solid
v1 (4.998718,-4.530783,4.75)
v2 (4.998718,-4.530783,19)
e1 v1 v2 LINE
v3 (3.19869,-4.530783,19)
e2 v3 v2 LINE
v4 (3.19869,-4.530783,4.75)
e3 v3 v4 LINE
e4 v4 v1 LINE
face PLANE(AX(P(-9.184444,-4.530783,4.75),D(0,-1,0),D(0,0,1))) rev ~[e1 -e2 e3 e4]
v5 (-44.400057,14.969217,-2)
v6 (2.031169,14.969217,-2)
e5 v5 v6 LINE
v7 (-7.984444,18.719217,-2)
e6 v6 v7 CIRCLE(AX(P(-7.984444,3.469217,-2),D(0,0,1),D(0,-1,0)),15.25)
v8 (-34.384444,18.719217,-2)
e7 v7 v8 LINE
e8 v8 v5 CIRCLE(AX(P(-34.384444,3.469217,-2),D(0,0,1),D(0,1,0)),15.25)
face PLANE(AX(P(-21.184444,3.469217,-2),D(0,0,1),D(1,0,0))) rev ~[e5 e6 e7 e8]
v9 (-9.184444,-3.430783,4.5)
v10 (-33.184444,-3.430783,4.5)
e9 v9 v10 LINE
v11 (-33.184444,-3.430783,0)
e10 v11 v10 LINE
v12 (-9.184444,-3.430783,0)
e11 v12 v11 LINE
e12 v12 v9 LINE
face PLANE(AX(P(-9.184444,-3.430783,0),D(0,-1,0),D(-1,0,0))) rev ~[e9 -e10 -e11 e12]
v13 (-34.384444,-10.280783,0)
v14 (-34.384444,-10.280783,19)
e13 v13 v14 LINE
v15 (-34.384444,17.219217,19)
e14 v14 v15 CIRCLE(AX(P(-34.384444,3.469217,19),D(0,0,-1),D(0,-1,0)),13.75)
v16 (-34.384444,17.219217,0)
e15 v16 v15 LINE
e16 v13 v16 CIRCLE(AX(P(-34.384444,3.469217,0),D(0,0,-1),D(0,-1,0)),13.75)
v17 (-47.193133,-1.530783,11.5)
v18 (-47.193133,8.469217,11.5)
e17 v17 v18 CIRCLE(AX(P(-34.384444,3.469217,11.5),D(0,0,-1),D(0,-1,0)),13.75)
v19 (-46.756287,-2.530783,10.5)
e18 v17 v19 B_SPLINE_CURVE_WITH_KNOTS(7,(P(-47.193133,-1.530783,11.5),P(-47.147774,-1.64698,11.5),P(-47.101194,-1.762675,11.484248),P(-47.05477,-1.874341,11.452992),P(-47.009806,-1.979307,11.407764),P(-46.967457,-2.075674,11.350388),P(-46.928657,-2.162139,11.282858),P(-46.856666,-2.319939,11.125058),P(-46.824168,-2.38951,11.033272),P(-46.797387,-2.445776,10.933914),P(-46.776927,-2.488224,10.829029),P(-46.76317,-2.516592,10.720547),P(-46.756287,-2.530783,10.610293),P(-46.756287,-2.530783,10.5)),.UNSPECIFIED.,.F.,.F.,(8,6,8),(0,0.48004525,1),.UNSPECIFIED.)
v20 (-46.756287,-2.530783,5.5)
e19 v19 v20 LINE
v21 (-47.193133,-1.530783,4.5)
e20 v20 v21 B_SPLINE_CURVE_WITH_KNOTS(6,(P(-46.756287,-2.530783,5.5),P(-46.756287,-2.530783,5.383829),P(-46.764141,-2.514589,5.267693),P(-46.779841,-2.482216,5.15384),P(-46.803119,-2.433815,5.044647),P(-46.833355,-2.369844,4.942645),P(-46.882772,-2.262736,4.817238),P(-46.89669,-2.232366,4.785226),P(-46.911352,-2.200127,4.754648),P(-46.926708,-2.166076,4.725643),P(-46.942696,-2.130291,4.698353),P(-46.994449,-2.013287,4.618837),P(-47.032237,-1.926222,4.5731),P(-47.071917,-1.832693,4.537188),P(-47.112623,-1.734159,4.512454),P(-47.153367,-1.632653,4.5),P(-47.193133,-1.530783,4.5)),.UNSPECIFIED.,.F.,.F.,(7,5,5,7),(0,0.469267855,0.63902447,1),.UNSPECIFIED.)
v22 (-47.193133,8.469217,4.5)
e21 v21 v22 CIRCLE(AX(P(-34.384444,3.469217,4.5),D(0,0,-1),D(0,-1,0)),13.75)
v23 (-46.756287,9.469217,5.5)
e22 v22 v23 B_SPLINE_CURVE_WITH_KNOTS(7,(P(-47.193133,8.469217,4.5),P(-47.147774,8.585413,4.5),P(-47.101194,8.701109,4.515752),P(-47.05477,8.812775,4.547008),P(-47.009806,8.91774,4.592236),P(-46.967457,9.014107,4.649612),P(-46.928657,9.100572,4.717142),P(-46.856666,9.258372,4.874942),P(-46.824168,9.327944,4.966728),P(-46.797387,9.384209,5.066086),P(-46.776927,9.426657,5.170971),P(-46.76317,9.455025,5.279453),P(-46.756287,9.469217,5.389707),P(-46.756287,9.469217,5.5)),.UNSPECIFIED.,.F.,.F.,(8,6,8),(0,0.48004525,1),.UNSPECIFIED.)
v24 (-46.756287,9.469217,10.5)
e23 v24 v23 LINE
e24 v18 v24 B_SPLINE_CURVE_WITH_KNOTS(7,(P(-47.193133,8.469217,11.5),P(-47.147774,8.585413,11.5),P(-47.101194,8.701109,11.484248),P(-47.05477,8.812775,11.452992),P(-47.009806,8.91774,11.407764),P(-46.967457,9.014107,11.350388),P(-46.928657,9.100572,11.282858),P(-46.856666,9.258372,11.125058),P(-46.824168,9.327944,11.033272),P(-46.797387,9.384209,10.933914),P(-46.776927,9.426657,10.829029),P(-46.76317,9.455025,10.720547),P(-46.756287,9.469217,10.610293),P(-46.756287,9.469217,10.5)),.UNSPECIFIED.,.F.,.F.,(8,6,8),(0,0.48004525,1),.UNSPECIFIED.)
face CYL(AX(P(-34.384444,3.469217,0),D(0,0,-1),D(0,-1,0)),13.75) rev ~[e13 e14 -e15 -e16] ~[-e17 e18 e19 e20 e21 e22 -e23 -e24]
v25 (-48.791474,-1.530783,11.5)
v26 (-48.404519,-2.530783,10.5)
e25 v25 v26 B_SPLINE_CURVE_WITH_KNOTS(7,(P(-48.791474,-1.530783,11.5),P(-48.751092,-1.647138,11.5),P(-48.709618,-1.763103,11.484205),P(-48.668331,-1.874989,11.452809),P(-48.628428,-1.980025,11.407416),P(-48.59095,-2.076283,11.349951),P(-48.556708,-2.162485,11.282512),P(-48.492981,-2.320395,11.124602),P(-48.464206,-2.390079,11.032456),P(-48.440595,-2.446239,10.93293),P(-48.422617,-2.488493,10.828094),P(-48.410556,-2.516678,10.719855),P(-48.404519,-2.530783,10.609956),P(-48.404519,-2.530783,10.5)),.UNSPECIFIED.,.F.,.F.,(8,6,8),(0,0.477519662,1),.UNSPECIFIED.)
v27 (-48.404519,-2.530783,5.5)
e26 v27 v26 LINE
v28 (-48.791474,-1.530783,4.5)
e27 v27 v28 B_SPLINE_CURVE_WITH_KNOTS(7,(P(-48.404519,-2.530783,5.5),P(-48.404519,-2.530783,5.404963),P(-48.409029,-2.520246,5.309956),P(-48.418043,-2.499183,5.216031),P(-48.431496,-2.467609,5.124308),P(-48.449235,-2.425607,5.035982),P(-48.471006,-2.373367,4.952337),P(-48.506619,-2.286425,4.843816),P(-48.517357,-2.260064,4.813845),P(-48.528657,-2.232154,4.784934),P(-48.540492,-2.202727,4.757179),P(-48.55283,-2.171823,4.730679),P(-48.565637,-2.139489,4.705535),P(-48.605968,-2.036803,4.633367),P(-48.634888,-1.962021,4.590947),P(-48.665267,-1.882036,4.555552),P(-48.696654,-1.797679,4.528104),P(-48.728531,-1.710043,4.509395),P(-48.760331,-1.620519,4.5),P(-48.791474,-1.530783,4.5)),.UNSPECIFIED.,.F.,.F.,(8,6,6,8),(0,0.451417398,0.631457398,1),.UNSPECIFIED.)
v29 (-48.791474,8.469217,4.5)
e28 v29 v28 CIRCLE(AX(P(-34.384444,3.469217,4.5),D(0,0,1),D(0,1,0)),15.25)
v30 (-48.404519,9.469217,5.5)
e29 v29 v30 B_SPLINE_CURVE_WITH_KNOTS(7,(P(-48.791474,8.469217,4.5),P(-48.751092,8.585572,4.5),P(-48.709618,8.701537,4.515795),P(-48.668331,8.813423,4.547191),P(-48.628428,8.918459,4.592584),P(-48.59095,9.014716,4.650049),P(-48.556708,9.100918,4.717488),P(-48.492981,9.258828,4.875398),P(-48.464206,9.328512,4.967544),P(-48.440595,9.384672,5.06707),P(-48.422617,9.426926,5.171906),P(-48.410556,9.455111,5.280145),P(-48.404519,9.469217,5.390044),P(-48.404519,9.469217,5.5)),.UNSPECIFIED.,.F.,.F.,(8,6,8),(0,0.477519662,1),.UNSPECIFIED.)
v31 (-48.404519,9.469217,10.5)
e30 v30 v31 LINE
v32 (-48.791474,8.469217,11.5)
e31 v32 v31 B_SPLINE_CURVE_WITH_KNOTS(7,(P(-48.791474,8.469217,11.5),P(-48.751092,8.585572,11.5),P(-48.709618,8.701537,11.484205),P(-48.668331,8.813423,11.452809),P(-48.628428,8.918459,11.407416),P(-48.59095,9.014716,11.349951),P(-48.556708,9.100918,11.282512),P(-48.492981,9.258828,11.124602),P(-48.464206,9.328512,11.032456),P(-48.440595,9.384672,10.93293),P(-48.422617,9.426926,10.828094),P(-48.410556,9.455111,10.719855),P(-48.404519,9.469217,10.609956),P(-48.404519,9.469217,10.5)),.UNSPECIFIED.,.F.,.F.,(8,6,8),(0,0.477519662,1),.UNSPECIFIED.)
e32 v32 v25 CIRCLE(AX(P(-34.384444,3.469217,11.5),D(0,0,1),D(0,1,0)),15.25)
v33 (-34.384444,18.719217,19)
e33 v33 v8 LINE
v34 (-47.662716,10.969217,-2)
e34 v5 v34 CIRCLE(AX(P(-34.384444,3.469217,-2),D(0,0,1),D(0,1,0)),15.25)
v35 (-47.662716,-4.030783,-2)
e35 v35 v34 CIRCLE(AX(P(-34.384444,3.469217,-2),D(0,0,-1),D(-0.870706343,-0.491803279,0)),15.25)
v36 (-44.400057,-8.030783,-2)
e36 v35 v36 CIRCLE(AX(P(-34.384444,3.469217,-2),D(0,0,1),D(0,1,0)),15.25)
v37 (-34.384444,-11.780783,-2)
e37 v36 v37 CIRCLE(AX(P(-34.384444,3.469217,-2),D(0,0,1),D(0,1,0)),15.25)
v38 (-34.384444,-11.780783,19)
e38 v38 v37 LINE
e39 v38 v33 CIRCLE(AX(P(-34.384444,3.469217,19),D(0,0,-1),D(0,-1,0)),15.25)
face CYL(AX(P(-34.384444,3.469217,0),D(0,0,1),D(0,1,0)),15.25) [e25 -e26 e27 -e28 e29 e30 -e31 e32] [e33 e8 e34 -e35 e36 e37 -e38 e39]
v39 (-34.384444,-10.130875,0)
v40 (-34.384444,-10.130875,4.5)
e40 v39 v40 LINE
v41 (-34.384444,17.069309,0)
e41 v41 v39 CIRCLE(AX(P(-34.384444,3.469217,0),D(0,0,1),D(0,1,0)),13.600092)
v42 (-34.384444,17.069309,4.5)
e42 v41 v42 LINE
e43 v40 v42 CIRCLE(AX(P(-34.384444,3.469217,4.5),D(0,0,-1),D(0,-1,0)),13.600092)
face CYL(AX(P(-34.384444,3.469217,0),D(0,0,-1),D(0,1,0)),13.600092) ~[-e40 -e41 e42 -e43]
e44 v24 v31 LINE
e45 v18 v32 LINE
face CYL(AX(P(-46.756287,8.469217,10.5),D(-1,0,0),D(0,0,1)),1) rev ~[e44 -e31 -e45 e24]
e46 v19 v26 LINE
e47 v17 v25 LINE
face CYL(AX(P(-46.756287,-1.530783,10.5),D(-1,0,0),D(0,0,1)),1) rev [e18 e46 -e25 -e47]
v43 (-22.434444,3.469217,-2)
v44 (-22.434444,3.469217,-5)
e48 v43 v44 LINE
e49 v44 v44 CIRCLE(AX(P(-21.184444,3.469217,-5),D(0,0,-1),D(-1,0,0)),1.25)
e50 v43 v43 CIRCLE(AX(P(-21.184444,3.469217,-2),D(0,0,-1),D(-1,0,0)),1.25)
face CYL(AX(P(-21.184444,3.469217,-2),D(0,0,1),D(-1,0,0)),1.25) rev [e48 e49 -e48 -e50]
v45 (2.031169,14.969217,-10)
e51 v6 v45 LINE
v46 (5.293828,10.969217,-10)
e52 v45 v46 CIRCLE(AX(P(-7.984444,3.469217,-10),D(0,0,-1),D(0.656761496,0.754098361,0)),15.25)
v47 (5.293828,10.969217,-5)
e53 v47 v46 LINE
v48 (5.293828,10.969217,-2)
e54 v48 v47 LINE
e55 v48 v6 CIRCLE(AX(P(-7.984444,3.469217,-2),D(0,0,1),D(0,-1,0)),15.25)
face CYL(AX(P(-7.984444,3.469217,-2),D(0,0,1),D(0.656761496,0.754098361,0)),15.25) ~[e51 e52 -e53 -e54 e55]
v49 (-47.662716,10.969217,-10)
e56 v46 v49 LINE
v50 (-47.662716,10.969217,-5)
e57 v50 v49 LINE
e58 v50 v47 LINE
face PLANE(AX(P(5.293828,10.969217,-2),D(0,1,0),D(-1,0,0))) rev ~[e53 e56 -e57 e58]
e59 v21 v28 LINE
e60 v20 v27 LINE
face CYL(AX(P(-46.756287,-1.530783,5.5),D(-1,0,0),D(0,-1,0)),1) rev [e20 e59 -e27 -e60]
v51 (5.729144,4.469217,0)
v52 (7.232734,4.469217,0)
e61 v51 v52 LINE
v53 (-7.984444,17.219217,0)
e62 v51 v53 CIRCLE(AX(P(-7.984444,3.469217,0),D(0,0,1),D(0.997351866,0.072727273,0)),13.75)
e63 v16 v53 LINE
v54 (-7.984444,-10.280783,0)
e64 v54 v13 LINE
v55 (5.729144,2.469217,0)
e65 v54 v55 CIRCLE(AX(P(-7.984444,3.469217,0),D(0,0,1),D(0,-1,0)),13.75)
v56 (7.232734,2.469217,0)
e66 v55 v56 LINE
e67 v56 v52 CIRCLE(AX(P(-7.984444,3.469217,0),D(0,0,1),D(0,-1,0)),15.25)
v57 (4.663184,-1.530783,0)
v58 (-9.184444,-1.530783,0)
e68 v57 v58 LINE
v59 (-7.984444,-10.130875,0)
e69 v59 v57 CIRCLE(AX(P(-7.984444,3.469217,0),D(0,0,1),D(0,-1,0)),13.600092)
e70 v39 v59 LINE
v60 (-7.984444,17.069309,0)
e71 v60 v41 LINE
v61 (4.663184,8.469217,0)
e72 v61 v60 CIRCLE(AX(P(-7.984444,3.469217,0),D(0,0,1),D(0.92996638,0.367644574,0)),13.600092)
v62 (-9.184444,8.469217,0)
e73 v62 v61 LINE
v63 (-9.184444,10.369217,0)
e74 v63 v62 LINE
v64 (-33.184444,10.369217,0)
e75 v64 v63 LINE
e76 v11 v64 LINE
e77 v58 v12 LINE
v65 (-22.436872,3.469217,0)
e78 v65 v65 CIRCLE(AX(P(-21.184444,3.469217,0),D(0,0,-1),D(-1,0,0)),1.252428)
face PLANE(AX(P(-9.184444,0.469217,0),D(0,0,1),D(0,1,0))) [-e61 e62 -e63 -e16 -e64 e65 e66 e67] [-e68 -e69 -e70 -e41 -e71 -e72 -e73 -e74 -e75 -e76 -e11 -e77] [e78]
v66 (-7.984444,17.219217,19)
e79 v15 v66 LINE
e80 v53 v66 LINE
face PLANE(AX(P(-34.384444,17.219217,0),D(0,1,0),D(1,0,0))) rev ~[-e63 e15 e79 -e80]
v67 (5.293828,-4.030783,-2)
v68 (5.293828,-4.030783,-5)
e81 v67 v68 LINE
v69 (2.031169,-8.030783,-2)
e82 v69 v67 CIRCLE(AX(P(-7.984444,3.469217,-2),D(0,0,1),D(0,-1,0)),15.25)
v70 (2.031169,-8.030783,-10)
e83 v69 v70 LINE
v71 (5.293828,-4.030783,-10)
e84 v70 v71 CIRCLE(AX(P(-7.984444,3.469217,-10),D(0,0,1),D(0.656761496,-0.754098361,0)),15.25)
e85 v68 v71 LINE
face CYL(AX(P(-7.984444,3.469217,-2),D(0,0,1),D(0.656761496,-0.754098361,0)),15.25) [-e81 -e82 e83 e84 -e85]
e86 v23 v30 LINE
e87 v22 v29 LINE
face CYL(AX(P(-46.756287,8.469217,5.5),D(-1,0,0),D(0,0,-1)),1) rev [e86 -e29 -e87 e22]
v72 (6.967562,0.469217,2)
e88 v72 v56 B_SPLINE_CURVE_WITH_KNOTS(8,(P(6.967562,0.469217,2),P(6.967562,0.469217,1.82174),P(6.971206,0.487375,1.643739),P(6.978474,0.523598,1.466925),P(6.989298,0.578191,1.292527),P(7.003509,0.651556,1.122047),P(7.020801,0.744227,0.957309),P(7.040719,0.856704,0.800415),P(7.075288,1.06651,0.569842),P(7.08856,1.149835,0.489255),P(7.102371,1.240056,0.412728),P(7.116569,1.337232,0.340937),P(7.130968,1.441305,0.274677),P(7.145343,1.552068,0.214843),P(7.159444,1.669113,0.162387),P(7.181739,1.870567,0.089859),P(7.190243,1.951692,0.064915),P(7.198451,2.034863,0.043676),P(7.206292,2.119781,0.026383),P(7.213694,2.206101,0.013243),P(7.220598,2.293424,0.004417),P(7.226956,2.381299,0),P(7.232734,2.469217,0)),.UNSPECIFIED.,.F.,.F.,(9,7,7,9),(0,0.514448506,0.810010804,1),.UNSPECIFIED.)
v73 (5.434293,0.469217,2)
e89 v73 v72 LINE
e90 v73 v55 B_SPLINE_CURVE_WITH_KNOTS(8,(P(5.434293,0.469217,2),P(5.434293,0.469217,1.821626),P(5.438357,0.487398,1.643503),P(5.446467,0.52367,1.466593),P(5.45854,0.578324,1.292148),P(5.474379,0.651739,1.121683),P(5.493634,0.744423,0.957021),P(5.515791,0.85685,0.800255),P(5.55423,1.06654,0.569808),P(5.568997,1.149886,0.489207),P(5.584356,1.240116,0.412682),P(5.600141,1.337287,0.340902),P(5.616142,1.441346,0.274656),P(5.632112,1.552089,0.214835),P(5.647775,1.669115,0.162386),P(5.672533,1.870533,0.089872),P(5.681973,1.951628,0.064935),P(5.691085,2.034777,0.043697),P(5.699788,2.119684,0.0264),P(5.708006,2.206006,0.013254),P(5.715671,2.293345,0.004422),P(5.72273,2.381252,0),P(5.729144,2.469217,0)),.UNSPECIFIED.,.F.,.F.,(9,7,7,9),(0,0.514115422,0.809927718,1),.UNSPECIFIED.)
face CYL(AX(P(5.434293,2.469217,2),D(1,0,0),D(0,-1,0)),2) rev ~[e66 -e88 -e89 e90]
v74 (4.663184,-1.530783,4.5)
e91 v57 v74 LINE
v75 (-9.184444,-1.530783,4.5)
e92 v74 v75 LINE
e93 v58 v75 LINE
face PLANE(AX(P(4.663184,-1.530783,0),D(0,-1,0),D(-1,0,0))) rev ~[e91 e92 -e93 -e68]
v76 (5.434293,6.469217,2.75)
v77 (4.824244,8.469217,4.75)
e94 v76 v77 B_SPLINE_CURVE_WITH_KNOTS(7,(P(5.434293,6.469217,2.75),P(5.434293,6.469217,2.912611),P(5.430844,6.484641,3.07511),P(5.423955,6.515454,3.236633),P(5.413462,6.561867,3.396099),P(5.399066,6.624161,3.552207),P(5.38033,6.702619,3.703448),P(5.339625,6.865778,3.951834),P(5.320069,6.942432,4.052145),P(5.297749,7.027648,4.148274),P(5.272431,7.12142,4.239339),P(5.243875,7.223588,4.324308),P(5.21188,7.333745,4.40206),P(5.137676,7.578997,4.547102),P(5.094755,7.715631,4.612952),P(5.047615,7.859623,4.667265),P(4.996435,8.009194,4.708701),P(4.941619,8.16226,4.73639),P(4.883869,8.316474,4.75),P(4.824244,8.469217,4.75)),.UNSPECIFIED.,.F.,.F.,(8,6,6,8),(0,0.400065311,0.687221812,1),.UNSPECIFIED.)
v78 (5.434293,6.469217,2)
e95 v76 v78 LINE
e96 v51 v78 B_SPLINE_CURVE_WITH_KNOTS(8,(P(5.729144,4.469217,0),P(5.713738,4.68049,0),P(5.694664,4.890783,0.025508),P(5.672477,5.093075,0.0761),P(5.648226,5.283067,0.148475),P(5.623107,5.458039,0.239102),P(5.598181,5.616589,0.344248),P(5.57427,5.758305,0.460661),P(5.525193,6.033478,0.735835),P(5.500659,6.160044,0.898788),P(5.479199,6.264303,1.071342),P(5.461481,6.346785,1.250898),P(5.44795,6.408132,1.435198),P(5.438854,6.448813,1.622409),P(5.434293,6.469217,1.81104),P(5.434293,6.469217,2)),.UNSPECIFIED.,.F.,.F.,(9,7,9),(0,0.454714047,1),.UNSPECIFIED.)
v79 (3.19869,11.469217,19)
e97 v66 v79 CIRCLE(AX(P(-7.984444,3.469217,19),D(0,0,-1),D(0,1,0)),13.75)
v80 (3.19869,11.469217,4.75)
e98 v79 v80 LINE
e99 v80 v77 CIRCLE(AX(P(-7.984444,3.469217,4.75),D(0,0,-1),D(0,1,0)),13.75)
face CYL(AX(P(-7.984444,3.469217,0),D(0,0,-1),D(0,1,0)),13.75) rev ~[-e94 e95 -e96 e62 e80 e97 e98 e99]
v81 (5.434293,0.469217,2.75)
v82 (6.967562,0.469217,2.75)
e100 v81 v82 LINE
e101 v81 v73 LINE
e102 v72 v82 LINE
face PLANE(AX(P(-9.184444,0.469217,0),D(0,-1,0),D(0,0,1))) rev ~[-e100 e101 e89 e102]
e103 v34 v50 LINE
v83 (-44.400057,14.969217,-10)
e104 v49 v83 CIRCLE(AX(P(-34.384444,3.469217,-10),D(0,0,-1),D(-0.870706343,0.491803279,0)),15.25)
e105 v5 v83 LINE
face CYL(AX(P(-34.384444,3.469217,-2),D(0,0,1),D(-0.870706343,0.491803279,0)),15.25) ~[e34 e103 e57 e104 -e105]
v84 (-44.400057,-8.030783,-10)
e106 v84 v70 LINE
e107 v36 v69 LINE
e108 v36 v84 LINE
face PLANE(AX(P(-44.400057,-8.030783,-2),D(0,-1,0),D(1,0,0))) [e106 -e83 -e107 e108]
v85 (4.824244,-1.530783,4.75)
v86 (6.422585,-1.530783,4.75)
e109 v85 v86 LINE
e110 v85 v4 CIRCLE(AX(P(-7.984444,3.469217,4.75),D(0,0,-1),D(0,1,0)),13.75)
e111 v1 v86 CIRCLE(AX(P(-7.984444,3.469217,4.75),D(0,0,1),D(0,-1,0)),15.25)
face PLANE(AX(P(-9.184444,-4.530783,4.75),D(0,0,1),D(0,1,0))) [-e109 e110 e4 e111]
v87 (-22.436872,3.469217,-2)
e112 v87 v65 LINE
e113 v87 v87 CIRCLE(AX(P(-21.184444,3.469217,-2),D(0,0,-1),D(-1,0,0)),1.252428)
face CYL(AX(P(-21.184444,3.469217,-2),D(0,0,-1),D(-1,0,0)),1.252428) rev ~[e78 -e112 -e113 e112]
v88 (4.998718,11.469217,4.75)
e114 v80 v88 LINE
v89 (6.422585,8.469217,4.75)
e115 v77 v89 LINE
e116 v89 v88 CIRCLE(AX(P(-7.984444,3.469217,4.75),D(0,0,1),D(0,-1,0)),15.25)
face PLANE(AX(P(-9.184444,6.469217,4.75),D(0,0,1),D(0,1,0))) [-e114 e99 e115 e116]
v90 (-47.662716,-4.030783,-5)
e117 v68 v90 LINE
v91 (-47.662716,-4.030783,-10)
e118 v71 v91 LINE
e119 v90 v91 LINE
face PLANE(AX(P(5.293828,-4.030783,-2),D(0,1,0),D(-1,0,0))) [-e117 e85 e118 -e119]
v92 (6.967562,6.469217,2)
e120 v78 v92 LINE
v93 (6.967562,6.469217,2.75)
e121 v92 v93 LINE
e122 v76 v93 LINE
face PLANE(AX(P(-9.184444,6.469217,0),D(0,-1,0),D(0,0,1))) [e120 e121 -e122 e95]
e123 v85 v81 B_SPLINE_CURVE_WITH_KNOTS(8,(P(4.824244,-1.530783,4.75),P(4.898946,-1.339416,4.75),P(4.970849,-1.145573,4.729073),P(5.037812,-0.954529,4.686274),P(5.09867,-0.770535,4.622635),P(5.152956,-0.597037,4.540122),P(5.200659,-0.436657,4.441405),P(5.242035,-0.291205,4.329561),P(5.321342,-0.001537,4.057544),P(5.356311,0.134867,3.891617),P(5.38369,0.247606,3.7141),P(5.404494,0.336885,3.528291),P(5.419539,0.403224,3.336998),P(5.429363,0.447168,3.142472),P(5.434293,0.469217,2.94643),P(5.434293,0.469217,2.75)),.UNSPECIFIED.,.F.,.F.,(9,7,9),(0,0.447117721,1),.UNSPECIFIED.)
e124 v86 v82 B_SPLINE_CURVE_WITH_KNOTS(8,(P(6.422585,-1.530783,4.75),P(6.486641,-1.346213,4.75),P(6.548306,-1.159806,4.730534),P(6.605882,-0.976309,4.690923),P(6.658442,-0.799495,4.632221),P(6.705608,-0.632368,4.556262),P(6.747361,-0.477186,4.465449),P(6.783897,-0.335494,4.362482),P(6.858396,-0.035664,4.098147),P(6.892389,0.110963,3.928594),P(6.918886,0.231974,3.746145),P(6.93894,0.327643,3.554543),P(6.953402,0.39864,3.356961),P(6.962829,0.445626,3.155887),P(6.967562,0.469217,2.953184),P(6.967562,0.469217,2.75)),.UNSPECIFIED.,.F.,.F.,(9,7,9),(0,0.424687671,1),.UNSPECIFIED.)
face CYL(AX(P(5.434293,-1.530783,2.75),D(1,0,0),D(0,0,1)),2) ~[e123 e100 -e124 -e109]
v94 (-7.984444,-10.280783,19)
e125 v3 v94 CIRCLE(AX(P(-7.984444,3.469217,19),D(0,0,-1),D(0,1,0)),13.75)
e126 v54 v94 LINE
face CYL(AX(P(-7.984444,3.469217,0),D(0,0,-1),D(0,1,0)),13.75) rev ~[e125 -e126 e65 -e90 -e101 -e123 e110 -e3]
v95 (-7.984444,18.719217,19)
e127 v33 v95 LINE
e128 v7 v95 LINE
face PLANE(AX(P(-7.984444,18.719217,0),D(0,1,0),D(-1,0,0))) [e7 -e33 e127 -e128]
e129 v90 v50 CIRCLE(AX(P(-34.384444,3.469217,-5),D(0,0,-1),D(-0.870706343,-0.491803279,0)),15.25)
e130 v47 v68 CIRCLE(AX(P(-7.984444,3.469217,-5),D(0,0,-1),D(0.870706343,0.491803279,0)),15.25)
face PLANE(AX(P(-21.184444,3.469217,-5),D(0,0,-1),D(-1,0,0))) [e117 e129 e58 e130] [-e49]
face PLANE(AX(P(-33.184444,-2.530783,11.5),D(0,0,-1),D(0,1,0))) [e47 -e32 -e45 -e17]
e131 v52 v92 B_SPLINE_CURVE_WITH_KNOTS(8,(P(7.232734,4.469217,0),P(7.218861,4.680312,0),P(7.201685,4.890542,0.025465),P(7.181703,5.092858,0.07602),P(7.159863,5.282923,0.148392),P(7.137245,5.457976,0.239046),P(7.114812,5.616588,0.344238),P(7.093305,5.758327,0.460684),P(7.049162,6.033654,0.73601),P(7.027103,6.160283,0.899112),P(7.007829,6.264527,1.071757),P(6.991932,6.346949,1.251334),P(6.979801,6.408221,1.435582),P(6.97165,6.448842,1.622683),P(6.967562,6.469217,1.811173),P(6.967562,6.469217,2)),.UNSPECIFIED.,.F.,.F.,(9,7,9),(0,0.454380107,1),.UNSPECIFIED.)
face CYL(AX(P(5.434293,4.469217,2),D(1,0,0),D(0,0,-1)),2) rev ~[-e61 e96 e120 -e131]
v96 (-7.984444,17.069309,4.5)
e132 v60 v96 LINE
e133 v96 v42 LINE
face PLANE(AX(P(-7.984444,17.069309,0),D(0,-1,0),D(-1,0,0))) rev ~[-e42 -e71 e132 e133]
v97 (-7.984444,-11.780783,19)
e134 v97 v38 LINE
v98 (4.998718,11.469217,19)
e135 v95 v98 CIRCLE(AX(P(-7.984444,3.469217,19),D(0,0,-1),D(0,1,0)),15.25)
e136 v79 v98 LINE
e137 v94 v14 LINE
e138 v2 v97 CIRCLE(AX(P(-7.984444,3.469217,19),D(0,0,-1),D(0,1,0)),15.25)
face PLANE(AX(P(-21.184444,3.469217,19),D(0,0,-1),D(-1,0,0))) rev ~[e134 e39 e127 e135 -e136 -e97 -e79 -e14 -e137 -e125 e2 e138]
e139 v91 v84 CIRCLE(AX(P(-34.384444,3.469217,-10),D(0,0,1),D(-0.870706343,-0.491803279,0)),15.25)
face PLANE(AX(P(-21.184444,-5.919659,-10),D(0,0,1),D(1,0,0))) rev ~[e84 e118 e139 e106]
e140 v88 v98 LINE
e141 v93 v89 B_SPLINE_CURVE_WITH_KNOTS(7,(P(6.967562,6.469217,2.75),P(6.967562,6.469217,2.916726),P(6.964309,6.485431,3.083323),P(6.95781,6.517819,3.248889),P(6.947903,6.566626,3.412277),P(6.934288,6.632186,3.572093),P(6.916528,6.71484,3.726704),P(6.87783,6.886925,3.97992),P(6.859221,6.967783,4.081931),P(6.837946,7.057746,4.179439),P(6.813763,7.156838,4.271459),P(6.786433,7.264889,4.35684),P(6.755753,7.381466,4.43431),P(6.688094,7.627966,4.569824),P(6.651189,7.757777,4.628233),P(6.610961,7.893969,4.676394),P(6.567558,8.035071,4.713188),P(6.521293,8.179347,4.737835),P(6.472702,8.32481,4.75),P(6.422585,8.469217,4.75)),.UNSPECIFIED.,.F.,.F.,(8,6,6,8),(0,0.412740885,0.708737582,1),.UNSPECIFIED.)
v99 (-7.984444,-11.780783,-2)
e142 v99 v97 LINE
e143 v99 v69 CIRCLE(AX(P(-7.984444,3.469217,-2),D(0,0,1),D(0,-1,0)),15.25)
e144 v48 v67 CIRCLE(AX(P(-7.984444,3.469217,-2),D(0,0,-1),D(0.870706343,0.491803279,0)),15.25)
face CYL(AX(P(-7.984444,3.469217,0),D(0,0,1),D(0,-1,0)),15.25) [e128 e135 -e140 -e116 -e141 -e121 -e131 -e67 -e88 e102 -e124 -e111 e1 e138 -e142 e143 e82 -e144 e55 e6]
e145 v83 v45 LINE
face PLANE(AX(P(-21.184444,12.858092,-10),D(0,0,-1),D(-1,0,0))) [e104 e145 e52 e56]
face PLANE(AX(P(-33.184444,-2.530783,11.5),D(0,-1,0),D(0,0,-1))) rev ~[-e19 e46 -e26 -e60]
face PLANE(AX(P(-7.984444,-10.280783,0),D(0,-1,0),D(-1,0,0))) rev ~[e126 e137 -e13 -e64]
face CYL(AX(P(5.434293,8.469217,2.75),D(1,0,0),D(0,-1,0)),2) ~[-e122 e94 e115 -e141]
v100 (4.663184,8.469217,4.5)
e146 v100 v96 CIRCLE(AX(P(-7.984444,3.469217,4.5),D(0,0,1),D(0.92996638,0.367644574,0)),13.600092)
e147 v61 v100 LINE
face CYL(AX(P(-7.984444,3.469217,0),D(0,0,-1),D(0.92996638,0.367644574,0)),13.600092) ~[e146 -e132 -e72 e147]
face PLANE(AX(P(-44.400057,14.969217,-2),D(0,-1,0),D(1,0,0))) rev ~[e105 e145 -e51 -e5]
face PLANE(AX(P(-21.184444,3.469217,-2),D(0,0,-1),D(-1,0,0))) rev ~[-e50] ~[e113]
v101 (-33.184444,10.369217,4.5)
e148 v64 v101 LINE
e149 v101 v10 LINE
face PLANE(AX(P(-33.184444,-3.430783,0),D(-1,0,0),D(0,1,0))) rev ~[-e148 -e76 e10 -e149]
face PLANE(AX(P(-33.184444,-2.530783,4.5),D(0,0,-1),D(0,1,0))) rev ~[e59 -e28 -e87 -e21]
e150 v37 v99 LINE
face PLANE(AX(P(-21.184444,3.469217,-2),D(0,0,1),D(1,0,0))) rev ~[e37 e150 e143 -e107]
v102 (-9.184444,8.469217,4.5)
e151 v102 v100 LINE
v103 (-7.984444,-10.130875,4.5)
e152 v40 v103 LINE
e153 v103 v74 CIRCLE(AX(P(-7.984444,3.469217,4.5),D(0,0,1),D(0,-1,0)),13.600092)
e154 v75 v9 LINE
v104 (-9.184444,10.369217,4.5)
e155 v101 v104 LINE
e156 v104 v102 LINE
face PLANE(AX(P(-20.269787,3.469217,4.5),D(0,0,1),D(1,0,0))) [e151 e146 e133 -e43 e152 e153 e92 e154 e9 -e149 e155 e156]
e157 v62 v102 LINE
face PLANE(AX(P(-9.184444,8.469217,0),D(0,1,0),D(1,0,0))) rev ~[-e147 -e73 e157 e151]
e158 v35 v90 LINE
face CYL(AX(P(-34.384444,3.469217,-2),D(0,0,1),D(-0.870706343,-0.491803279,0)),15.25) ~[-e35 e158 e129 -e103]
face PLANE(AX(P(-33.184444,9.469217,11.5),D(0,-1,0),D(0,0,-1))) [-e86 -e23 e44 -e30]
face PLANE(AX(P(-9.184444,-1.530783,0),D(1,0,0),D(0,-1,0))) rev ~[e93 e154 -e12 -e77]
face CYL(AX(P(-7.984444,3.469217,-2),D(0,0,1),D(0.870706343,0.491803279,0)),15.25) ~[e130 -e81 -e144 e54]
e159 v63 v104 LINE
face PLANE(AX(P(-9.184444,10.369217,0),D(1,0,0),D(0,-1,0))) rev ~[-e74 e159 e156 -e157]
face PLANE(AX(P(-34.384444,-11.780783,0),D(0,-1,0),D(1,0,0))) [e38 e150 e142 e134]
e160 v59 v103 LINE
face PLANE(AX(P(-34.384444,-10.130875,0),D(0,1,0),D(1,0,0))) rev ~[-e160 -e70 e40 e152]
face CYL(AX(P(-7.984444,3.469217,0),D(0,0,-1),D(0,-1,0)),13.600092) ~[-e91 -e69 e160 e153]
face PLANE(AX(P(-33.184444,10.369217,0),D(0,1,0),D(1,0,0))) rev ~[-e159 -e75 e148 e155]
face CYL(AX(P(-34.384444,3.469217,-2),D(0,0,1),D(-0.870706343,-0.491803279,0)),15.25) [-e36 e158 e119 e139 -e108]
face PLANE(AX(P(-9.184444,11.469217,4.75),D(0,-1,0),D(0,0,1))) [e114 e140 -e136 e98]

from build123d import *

# Parameters (mm, degrees)
BOSS_EXTRUDE1_DEPTH = 19
BOSS_EXTRUDE2_DEPTH = 2
BOSS_EXTRUDE3_DEPTH = 4.5
SKETCH4_W           = 4.75
SKETCH4_H           = 6
SKETCH4_W_2         = 14.25
SKETCH4_H_2         = 16
CUT_EXTRUDE1_DEPTH  = 49.452157546
SKETCH5_W           = 7
SKETCH5_H           = 12
CUT_EXTRUDE2_DEPTH  = 49.452157546
FILLET1_R           = 1
SKETCH6_R           = 1.25
BOSS_EXTRUDE4_DEPTH = 3
BOSS_EXTRUDE7_DEPTH = 8
FILLET2_R           = 2
SKETCH9_R           = 1.252428217
CUT_EXTRUDE3_DEPTH  = 10


with BuildPart() as part:
    # Sketch1 → Boss-Extrude1 (new body)
    with BuildSketch(Plane.XY):
        with BuildLine():
            Line((-34.384444189, 18.719216619), (-7.984444189, 18.719216619))
            ThreePointArc((-7.984444189, 18.719216619), (7.265555811, 3.469216619), (-7.984444189, -11.780783381))
            Line((-7.984444189, -11.780783381), (-34.384444189, -11.780783381))
            ThreePointArc((-34.384444189, -11.780783381), (-49.634444189, 3.469216619), (-34.384444189, 18.719216619))
        make_face()
        with BuildLine():
            Line((-34.384444189, 17.219216619), (-7.984444189, 17.219216619))
            ThreePointArc((-7.984444189, 17.219216619), (5.765555811, 3.469216619), (-7.984444189, -10.280783381))
            Line((-7.984444189, -10.280783381), (-34.384444189, -10.280783381))
            ThreePointArc((-34.384444189, -10.280783381), (-48.134444189, 3.469216619), (-34.384444189, 17.219216619))
        make_face(mode=Mode.SUBTRACT)
    extrude(amount=BOSS_EXTRUDE1_DEPTH)



with BuildPart() as body_2:
    # Sketch2 → Boss-Extrude2 (new body)
    with BuildSketch(Plane(origin=(0, 0, 0), x_dir=(-1, 0, 0), z_dir=(0, 0, -1))):
        with BuildLine():
            Line((34.384444189, -11.780783381), (7.984444189, -11.780783381))
            ThreePointArc((7.984444189, -11.780783381), (-7.265555811, 3.469216619), (7.984444189, 18.719216619))
            Line((7.984444189, 18.719216619), (34.384444189, 18.719216619))
            ThreePointArc((34.384444189, 18.719216619), (49.634444189, 3.469216619), (34.384444189, -11.780783381))
        make_face()
    extrude(amount=BOSS_EXTRUDE2_DEPTH)


with BuildPart() as part_1:
    add(part.part)

    add(body_2.part)  # Boss-Extrude3 merges body 2
    # Sketch3 → Boss-Extrude3 (add)
    with BuildSketch(Plane.XY):
        with BuildLine():
            Line((-22.664695889, -3.430783381), (-33.184444189, -3.430783381))
            Line((-33.184444189, -3.430783381), (-33.184444189, 10.369216619))
            Line((-33.184444189, 10.369216619), (-19.704192488, 10.369216619))
            Line((-19.704192488, 10.369216619), (-9.184444189, 10.369216619))
            Line((-9.184444189, 10.369216619), (-9.184444189, 8.469216619))
            Line((-9.184444189, 8.469216619), (4.663184056, 8.469216619))
            ThreePointArc((4.663184056, 8.469216619), (-0.337155761, 14.715615149), (-7.984444189, 17.069308538))
            Line((-7.984444189, 17.069308538), (-34.384444189, 17.069308538))
            ThreePointArc((-34.384444189, 17.069308538), (-47.984536108, 3.469216619), (-34.384444189, -10.1308753))
            Line((-34.384444189, -10.1308753), (-7.984444189, -10.1308753))
            ThreePointArc((-7.984444189, -10.1308753), (-0.337155761, -7.777181911), (4.663184056, -1.530783381))
            Line((4.663184056, -1.530783381), (-9.184444189, -1.530783381))
            Line((-9.184444189, -1.530783381), (-9.184444189, -3.430783381))
            Line((-9.184444189, -3.430783381), (-19.704192488, -3.430783381))
            Line((-19.704192488, -3.430783381), (-22.664695889, -3.430783381))
        make_face()
    extrude(amount=BOSS_EXTRUDE3_DEPTH)

    # Sketch4 → Cut-Extrude1 (cut, through all)
    with BuildSketch(Plane.ZY.offset(9.184444189)):
        with Locations((2.375, 3.469216619)):
            Rectangle(SKETCH4_W, SKETCH4_H)
        with Locations((11.875, 3.469216619)):
            Rectangle(SKETCH4_W_2, SKETCH4_H_2)
    extrude(amount=-CUT_EXTRUDE1_DEPTH, mode=Mode.SUBTRACT)

    # Sketch5 → Cut-Extrude2 (cut, through all)
    with BuildSketch(Plane(origin=(-33.184444189, 0, 0), x_dir=(0, 0, -1), z_dir=(1, 0, 0))):
        with Locations((-8, 3.469216619)):
            Rectangle(SKETCH5_W, SKETCH5_H)
    extrude(amount=-CUT_EXTRUDE2_DEPTH, mode=Mode.SUBTRACT)

    # Fillet1
    fillet1_edges = [part_1.edges().sort_by_distance(p)[0] for p in [
        (-47.580403151, -2.530783381, 11.5),
        (-47.580403151, 9.469216619, 11.5),
        (-47.580403151, 9.469216619, 4.5),
        (-47.580403151, -2.530783381, 4.5),
    ]]
    fillet(fillet1_edges, radius=FILLET1_R)

    # Sketch6 → Boss-Extrude4 (add)
    with BuildSketch(Plane(origin=(0, 0, -2), x_dir=(-1, 0, 0), z_dir=(0, 0, -1))):
        with BuildLine():
            ThreePointArc((47.662715914, -4.030783381), (49.634444189, 3.469216619), (47.662715914, 10.969216619))
            Line((47.662715914, 10.969216619), (-5.293827536, 10.969216619))
            ThreePointArc((-5.293827536, 10.969216619), (-7.265555811, 3.469216619), (-5.293827536, -4.030783381))
            Line((-5.293827536, -4.030783381), (47.662715914, -4.030783381))
        make_face()
        with Locations((21.184444189, 3.469216619)):
            Circle(SKETCH6_R, mode=Mode.SUBTRACT)
    extrude(amount=BOSS_EXTRUDE4_DEPTH)

    # Sketch10 → Boss-Extrude7 (add)
    with BuildSketch(Plane(origin=(0, 0, -2), x_dir=(-1, 0, 0), z_dir=(0, 0, -1))):
        with BuildLine():
            Line((-5.293827536, -4.030783381), (47.662715914, -4.030783381))
            ThreePointArc((47.662715914, -4.030783381), (46.201857789, -6.169830834), (44.400057001, -8.030783381))
            Line((44.400057001, -8.030783381), (-2.031168623, -8.030783381))
            ThreePointArc((-2.031168623, -8.030783381), (-3.832969412, -6.169830834), (-5.293827536, -4.030783381))
        make_face()
        with BuildLine():
            Line((-5.293827536, 10.969216619), (47.662715914, 10.969216619))
            ThreePointArc((47.662715914, 10.969216619), (46.201857789, 13.108264072), (44.400057001, 14.969216619))
            Line((44.400057001, 14.969216619), (-2.031168623, 14.969216619))
            ThreePointArc((-2.031168623, 14.969216619), (-3.832969412, 13.108264072), (-5.293827536, 10.969216619))
        make_face()
    extrude(amount=BOSS_EXTRUDE7_DEPTH)

    # Fillet2
    fillet2_edges = [part_1.edges().sort_by_distance(p)[0] for p in [
        (6.200927538, 0.469216619, 0),
        (6.200927538, 6.469216619, 0),
        (6.200927538, 6.469216619, 4.75),
        (6.200927538, 0.469216619, 4.75),
    ]]
    fillet(fillet2_edges, radius=FILLET2_R)

    # Sketch9 → Cut-Extrude3 (cut)
    with BuildSketch(Plane(origin=(0, 0, -2), x_dir=(-1, 0, 0), z_dir=(0, 0, -1))):
        with Locations((21.184444189, 3.469216619)):
            Circle(SKETCH9_R)
    extrude(amount=-CUT_EXTRUDE3_DEPTH, mode=Mode.SUBTRACT)


solid = part_1.part
